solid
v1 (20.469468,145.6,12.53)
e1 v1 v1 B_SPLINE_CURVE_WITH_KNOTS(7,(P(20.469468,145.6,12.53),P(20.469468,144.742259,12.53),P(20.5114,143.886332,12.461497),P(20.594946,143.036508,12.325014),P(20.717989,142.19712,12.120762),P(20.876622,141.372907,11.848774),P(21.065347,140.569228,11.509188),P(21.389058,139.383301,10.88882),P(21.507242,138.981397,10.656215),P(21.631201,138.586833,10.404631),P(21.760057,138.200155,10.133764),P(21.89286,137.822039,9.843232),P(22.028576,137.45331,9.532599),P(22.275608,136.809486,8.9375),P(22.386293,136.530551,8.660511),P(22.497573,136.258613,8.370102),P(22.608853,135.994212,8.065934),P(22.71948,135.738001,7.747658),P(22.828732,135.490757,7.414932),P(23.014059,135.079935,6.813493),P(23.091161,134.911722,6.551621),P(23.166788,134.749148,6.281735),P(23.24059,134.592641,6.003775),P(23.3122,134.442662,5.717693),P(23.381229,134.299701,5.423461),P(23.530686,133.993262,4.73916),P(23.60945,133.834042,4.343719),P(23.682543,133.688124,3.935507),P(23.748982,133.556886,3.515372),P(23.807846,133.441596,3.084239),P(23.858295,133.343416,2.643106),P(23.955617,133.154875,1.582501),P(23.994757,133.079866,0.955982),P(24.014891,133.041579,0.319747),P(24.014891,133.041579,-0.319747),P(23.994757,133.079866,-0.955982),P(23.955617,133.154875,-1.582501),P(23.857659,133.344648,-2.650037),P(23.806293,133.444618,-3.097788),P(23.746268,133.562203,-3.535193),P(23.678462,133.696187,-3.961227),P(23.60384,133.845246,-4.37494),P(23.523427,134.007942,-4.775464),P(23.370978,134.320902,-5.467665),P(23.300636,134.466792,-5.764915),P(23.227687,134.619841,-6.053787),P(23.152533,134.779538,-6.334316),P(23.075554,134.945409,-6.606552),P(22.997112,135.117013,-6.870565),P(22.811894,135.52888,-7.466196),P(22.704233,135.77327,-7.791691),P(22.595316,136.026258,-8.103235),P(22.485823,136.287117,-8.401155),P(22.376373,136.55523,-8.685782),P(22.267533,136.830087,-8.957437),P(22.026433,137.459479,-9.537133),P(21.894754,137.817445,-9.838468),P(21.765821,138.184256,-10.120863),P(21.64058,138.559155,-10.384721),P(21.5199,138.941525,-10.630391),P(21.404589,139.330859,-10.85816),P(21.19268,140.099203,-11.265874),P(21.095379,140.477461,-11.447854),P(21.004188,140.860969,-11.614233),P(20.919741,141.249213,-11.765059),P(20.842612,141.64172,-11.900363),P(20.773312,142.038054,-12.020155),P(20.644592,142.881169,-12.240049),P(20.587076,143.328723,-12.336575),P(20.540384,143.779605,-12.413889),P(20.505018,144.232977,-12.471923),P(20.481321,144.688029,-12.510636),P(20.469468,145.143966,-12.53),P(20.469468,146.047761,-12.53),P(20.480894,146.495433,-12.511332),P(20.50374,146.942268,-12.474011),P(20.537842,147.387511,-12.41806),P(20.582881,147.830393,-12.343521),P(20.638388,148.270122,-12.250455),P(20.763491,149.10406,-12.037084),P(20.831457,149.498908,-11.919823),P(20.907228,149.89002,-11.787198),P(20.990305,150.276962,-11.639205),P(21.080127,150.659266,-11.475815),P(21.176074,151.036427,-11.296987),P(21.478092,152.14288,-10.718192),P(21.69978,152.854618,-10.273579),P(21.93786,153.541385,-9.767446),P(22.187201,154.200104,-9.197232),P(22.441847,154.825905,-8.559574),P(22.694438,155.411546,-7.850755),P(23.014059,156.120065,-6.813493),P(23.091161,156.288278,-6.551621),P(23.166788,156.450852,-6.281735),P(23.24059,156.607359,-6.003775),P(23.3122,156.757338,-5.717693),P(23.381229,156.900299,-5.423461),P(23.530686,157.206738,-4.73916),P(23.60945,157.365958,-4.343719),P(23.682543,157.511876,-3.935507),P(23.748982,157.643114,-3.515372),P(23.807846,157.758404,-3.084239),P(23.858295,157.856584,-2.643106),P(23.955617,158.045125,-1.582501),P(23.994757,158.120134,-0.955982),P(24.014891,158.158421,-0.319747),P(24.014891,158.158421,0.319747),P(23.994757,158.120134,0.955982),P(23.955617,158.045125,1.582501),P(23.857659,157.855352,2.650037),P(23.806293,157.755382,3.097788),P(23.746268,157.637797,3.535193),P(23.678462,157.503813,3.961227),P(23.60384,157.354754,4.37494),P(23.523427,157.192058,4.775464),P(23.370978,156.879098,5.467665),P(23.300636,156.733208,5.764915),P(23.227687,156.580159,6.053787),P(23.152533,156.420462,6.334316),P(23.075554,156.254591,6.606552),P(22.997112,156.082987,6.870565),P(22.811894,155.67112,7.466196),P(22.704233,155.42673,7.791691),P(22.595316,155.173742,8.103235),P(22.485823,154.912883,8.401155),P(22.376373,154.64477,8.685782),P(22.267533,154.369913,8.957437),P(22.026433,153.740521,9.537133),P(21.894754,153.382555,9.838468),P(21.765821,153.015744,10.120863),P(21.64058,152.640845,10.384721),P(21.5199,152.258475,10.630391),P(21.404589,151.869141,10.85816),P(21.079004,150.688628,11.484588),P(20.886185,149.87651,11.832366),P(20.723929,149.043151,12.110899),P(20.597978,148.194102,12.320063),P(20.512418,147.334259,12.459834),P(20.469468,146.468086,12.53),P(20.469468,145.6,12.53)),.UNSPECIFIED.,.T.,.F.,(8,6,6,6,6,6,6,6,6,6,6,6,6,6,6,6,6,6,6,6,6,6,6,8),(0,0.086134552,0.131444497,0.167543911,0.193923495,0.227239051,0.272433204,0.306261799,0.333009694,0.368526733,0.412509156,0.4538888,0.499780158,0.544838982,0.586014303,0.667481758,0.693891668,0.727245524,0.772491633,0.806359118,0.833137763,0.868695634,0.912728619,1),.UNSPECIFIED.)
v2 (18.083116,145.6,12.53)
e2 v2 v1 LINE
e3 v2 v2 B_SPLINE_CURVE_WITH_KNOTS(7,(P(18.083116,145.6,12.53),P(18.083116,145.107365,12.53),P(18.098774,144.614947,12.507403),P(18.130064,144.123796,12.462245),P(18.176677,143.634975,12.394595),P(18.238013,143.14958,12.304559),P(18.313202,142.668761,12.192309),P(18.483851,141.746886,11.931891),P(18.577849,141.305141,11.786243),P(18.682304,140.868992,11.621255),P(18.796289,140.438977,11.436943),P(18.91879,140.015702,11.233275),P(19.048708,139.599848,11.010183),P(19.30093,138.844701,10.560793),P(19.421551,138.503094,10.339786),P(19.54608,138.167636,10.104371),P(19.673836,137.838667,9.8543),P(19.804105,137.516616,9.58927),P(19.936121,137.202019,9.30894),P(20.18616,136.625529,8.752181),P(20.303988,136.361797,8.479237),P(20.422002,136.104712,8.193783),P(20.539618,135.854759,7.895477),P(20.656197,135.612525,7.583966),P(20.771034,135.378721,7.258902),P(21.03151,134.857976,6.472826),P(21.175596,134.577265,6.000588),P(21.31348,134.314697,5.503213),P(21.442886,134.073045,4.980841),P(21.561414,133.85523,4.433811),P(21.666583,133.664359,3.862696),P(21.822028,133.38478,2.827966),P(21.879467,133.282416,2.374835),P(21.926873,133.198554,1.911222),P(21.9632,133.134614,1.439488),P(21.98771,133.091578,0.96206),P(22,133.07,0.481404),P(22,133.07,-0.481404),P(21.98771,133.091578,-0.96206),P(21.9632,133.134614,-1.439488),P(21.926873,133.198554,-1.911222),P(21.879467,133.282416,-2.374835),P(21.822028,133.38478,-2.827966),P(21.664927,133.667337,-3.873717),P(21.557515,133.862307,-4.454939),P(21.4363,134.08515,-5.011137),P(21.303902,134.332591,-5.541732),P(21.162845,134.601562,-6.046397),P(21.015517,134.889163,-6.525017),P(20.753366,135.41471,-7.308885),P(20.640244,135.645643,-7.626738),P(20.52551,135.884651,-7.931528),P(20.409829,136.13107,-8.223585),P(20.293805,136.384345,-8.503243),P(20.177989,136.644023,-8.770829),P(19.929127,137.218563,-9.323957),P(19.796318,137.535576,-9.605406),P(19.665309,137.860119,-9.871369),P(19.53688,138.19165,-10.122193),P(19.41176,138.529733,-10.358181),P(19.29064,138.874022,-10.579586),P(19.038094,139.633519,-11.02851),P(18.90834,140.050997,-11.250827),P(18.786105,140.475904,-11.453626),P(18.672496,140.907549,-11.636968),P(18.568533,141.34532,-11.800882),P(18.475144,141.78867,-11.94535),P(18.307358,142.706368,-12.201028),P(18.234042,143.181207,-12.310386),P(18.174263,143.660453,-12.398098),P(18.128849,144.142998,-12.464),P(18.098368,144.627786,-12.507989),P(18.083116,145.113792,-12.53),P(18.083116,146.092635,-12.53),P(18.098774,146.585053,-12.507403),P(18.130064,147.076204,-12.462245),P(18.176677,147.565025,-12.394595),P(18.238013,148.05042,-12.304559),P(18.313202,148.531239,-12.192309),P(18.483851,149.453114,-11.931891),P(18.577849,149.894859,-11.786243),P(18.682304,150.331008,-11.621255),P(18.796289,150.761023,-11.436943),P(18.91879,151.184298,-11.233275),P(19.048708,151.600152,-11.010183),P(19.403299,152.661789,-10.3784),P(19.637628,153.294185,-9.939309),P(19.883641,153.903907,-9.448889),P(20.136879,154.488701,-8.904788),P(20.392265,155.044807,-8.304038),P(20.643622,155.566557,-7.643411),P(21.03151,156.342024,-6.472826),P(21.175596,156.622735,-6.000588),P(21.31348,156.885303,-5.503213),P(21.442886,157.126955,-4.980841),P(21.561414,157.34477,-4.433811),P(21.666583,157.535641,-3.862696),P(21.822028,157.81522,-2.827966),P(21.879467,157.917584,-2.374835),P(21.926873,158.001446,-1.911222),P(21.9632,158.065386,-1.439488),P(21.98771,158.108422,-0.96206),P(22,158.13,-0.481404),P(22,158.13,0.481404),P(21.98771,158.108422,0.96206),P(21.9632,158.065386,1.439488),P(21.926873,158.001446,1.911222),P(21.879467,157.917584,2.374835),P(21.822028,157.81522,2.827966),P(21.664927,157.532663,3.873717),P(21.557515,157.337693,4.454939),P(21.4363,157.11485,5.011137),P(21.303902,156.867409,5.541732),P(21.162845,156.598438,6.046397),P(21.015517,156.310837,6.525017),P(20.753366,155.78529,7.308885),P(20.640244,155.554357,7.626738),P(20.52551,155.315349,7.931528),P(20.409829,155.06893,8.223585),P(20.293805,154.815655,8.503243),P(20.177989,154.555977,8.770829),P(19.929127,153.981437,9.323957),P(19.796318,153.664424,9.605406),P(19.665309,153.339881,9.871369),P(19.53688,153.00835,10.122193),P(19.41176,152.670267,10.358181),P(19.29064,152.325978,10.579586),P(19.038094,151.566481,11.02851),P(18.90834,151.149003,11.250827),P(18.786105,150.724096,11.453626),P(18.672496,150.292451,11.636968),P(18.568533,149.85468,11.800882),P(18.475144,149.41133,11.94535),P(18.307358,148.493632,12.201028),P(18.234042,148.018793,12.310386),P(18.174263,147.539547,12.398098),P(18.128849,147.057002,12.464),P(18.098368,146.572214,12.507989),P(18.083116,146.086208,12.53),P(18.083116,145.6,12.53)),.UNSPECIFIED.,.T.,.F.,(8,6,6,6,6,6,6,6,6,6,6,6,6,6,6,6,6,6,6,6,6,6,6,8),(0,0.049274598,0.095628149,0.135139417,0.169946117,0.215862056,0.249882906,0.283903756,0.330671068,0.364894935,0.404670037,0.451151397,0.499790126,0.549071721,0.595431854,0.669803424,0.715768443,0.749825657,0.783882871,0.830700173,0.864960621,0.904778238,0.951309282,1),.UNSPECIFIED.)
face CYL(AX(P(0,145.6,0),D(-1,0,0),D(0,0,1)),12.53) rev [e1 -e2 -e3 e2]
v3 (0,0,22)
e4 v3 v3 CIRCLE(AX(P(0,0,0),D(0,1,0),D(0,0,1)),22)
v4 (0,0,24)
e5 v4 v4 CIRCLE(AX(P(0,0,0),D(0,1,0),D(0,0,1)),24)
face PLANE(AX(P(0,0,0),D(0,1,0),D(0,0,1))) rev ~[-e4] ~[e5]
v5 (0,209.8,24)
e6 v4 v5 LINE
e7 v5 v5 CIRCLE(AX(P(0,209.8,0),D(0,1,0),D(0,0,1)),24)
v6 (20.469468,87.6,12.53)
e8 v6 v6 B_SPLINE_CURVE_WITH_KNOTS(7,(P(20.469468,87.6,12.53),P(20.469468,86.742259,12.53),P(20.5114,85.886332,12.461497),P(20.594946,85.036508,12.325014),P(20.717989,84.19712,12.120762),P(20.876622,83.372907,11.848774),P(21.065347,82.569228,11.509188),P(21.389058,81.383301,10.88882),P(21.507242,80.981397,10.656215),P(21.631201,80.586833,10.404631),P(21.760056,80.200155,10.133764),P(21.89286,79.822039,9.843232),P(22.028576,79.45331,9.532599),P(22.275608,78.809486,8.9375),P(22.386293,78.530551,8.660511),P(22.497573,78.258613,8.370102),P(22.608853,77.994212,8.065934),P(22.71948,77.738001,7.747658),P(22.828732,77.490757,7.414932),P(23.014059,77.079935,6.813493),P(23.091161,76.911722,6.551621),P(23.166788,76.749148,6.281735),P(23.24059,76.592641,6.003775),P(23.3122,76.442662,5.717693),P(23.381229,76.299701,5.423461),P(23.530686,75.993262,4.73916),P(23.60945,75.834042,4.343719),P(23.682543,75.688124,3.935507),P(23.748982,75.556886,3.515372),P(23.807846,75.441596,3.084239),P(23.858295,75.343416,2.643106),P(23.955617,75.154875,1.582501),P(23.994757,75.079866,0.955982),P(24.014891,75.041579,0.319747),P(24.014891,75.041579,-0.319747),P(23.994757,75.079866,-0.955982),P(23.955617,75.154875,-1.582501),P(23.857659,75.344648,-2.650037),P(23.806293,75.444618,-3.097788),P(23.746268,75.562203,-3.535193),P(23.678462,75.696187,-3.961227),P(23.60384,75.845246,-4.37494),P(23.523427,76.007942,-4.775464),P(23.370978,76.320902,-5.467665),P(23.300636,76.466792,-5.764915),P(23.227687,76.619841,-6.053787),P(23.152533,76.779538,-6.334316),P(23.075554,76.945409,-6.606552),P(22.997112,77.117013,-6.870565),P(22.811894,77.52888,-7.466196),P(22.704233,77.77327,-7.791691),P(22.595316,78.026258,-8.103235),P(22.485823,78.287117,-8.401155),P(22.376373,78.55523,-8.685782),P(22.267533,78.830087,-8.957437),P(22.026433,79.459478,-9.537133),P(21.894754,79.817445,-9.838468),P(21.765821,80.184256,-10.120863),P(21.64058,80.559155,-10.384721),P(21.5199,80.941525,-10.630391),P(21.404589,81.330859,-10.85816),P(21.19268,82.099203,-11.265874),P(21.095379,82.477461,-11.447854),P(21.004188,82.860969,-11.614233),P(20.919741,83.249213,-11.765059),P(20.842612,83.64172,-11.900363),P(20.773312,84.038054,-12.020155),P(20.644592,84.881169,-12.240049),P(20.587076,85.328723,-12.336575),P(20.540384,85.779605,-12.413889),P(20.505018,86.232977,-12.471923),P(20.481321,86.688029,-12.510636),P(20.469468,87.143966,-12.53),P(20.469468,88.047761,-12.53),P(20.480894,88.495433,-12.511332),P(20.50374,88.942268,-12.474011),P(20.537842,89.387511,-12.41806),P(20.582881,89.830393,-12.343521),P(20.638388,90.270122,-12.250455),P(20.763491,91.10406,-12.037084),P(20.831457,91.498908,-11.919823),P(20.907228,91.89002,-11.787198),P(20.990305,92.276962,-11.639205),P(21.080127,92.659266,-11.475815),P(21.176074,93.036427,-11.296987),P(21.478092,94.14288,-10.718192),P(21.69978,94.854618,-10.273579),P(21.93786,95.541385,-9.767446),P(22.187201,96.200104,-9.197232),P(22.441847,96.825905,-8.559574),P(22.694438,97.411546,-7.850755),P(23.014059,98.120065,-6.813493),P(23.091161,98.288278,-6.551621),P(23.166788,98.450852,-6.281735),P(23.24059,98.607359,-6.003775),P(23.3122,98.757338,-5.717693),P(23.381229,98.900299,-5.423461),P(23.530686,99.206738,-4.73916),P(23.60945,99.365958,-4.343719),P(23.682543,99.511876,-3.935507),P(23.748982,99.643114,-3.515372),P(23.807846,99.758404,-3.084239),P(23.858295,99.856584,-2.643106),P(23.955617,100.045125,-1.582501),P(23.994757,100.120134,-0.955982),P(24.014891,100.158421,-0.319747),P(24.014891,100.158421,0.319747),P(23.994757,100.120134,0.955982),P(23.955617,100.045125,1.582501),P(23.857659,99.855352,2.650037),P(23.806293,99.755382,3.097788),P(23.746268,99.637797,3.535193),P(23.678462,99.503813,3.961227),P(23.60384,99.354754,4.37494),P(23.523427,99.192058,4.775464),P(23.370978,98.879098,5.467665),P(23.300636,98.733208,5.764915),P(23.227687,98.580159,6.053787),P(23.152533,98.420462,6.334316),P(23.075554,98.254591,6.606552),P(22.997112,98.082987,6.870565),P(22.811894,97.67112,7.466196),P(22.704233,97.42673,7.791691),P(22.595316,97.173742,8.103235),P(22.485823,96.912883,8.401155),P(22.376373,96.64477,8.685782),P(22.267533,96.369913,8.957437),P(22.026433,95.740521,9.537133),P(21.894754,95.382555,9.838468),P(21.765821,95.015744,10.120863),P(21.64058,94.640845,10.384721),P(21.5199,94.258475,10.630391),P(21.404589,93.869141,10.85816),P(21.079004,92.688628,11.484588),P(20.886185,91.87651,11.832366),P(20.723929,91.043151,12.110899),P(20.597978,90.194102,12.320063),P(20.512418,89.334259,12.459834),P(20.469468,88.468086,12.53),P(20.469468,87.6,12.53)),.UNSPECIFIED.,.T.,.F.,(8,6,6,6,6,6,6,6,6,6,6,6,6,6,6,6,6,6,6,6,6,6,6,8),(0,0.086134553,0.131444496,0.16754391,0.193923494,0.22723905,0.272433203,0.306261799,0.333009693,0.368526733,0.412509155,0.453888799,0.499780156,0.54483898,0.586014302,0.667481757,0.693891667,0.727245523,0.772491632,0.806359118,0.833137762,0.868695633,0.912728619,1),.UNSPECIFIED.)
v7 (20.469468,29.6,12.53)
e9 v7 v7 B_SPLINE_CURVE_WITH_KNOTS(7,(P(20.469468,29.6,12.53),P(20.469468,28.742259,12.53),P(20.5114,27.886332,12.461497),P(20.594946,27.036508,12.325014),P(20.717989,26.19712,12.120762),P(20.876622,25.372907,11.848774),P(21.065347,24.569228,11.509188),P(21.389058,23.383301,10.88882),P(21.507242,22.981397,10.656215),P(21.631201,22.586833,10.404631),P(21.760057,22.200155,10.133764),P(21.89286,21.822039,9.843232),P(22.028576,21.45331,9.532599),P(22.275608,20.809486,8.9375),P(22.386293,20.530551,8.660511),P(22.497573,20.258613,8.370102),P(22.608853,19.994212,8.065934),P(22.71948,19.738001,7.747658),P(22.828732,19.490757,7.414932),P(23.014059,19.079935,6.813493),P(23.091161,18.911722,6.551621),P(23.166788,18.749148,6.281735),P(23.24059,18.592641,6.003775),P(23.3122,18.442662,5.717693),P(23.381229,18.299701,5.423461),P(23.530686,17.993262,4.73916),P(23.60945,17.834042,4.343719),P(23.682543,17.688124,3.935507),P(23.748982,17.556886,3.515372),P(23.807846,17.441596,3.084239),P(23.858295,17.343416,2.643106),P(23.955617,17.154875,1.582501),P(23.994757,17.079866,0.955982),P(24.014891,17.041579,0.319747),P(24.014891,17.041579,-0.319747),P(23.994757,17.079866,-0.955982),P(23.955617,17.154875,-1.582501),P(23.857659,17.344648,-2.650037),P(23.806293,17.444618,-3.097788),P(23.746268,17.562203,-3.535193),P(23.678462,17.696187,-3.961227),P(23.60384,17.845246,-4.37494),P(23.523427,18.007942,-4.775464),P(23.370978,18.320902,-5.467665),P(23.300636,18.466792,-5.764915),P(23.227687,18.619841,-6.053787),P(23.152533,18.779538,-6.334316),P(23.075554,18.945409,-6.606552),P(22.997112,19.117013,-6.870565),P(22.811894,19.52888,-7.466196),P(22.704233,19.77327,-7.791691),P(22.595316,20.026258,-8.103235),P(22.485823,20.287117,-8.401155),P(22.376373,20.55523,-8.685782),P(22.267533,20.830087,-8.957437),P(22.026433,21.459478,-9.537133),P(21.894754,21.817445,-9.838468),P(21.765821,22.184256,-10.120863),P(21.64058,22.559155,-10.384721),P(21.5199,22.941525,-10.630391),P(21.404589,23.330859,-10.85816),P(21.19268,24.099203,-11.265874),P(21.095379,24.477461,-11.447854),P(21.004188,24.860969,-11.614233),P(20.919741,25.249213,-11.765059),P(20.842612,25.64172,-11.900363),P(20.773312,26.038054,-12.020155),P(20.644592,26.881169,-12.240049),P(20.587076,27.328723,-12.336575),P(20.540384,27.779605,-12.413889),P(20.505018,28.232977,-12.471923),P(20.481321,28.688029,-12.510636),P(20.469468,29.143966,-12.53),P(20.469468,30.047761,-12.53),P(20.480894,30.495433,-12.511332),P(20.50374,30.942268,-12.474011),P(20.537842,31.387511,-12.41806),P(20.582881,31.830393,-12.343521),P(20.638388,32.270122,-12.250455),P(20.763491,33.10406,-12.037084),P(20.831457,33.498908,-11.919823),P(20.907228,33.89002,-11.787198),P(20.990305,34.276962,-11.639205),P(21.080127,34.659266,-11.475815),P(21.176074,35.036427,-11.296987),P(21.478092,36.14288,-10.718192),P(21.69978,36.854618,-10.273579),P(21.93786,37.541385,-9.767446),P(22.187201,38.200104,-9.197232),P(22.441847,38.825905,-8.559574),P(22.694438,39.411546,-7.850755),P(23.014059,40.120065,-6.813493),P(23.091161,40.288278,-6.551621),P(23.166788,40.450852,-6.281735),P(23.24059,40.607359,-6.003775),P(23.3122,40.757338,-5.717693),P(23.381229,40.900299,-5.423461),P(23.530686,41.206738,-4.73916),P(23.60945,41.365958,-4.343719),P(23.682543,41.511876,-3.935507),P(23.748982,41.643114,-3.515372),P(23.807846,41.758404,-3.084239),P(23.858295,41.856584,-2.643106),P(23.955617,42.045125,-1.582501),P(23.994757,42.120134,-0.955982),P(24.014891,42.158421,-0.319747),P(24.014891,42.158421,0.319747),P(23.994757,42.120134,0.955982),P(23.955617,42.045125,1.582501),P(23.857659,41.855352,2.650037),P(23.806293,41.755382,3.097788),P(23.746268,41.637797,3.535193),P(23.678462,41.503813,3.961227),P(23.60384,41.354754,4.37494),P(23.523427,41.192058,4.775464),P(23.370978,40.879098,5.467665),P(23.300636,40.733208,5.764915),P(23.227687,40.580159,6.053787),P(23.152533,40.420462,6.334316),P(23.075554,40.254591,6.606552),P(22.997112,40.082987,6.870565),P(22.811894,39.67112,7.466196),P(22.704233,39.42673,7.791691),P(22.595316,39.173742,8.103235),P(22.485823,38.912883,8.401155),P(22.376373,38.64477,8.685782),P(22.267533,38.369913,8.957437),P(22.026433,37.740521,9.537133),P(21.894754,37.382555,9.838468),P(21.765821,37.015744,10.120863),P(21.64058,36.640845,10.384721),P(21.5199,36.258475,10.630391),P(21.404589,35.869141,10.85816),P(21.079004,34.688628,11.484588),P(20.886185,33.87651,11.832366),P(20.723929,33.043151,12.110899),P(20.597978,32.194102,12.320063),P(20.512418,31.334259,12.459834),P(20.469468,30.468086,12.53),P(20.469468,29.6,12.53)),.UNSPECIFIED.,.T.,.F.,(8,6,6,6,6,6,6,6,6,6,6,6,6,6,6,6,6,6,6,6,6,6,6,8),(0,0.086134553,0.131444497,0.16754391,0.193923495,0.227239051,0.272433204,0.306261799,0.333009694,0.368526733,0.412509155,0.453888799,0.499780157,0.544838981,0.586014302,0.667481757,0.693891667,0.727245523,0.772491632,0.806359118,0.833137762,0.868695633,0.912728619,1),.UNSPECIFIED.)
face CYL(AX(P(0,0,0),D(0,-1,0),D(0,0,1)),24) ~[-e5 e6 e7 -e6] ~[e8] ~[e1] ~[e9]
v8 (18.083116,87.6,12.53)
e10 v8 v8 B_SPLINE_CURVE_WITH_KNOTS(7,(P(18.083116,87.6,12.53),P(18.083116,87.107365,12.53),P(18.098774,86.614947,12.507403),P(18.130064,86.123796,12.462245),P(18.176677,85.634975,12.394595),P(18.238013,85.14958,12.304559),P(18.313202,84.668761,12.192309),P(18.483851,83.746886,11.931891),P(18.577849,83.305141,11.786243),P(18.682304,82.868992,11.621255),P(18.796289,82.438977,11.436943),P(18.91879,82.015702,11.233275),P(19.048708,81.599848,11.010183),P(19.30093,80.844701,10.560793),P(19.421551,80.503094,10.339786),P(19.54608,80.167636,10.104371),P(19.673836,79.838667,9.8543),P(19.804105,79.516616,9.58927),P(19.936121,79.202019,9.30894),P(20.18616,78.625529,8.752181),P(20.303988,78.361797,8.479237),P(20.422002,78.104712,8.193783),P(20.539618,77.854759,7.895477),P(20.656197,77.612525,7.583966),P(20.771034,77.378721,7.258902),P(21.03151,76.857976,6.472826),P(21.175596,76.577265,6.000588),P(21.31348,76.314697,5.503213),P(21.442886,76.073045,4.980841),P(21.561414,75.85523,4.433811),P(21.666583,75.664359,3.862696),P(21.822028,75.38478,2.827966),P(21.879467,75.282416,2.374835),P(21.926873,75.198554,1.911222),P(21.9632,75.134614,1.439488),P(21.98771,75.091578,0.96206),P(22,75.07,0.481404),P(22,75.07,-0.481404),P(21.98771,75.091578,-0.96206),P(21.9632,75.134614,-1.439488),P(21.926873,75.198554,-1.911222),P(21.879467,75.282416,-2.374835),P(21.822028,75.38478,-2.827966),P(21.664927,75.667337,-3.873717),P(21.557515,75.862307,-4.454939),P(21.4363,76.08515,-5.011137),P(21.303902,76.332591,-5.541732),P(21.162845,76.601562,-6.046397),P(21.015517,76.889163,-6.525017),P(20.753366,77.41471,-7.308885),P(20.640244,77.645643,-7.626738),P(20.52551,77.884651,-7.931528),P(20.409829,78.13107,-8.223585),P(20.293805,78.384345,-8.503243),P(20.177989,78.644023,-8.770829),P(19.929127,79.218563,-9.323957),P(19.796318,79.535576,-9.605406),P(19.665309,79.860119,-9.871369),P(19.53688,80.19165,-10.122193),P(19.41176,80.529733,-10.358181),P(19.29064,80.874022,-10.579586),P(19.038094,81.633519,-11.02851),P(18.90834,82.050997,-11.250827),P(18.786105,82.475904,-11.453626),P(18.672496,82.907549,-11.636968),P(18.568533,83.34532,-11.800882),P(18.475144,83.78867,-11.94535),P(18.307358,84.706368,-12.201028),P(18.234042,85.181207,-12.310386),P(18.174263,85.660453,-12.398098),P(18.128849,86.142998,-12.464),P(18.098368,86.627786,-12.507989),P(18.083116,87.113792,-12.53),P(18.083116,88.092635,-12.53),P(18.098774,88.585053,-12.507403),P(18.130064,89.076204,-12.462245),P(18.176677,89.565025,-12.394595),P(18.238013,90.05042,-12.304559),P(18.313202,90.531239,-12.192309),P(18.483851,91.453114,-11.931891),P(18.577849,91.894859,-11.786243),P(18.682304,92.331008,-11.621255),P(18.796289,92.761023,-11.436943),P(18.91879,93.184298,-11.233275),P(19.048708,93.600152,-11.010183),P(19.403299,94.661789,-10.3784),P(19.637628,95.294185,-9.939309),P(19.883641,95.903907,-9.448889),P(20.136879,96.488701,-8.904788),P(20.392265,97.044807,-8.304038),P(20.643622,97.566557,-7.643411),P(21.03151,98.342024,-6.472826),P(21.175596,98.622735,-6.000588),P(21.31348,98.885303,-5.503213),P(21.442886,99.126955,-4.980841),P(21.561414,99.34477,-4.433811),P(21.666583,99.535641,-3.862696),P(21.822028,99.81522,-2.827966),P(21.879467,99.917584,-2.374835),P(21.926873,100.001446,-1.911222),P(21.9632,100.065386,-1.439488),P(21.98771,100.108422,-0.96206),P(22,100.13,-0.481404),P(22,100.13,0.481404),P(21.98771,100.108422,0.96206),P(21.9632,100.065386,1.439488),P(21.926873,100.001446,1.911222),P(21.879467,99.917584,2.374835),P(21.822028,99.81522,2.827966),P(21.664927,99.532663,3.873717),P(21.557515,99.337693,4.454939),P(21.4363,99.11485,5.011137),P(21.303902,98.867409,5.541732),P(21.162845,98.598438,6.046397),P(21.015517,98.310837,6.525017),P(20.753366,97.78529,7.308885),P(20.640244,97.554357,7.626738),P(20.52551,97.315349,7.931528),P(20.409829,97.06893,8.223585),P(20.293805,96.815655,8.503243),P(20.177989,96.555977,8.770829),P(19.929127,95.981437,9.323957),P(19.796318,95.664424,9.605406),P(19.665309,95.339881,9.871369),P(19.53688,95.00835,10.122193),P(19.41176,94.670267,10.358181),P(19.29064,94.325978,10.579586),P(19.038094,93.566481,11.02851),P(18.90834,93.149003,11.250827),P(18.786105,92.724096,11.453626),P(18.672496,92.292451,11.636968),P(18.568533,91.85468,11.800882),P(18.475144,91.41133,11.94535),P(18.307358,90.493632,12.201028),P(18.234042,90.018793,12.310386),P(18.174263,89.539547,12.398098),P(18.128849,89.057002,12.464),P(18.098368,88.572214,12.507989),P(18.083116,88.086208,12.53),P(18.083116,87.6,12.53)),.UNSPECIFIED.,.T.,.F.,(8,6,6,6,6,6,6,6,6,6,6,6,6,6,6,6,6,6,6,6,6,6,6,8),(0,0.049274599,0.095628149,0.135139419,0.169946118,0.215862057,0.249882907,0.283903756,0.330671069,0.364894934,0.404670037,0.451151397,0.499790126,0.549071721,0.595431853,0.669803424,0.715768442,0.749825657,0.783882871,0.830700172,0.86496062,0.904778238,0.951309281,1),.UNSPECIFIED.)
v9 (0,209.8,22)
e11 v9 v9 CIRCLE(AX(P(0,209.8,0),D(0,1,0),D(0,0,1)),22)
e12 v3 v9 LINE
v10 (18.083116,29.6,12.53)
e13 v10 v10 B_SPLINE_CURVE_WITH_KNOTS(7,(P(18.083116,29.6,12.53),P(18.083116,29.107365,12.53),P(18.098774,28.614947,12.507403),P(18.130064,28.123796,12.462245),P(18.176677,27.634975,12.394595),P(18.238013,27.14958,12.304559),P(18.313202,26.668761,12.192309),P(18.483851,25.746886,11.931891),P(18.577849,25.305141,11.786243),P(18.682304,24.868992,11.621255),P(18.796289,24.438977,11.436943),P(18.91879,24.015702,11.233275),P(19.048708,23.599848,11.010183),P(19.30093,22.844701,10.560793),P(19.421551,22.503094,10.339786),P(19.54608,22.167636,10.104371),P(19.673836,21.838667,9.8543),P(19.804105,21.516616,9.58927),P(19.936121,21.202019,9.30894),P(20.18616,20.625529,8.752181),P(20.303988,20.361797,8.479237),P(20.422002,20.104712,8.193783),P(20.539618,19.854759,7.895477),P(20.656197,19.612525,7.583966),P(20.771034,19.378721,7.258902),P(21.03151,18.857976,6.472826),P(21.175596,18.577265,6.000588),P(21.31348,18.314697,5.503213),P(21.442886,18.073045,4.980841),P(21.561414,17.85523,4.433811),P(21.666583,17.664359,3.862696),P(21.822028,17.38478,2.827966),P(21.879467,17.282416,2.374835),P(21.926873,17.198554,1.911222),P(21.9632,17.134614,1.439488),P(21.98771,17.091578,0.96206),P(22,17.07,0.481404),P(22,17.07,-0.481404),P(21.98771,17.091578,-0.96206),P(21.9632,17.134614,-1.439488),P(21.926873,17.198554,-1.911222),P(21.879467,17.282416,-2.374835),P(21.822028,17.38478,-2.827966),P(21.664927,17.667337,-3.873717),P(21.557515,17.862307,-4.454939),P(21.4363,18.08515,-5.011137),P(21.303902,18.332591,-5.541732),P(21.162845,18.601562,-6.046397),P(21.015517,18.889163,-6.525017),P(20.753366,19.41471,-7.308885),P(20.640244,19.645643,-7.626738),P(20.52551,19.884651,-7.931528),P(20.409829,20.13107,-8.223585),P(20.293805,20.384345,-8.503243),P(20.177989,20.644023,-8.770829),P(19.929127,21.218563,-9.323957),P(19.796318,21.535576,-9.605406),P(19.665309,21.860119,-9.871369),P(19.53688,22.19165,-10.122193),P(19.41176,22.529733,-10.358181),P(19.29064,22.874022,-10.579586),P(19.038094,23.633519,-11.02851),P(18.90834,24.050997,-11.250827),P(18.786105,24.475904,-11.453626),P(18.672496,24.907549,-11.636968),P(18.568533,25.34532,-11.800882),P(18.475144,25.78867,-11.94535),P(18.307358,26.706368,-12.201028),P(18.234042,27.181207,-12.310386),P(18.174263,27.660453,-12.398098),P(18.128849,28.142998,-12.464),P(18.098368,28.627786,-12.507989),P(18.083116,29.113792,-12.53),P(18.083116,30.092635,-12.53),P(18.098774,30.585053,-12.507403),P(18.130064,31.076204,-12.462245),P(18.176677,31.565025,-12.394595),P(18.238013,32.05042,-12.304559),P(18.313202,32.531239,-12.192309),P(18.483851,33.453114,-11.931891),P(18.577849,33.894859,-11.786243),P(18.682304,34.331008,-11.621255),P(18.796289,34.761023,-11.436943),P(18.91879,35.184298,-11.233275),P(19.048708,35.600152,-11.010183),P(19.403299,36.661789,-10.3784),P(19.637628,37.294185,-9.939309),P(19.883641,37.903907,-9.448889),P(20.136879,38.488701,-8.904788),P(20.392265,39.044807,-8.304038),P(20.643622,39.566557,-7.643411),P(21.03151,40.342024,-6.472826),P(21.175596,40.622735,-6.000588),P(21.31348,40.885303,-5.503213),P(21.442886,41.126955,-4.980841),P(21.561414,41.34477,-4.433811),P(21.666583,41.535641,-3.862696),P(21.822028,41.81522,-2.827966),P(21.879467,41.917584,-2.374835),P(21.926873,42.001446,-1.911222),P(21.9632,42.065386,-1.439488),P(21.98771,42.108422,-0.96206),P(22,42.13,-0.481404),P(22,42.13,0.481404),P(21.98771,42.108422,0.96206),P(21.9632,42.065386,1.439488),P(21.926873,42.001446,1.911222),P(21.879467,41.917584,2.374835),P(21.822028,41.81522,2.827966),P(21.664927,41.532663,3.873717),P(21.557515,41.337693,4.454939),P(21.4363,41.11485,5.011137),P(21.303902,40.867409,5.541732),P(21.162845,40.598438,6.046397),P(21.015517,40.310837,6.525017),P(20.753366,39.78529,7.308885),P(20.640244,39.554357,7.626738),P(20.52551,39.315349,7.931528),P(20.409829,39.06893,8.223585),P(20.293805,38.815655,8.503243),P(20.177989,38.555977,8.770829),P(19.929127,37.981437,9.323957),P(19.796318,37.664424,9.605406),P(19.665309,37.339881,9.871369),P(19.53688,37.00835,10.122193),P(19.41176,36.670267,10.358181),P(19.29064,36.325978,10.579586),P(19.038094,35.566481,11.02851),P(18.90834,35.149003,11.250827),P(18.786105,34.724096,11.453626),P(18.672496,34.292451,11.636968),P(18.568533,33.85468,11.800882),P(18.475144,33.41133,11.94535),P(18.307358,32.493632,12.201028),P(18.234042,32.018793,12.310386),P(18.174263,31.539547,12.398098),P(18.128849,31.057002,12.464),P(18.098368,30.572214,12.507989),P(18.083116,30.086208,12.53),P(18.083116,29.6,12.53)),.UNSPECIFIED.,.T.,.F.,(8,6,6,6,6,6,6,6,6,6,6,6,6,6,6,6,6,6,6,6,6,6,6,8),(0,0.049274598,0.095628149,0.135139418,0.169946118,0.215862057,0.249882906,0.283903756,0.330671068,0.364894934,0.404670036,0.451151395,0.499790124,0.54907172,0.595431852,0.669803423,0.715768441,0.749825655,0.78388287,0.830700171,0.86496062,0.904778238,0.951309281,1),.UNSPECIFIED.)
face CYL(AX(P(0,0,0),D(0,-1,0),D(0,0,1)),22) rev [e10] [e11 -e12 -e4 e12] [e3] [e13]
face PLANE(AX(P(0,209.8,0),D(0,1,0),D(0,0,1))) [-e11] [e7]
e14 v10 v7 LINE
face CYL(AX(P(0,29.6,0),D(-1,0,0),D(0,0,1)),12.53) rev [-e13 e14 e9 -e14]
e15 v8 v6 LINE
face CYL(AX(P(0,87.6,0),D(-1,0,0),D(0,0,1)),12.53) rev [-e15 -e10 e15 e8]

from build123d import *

# Parameters (mm, degrees)
SKETCH1_R           = 24
SKETCH1_R_2         = 22
BOSS_EXTRUDE1_DEPTH = 209.8
SKETCH2_R           = 12.53
CUT_EXTRUDE1_DEPTH  = 213.527739366


with BuildPart() as part:
    # Sketch1 → Boss-Extrude1 (new body)
    with BuildSketch(Plane(origin=(0, 0, 0), x_dir=(1, 0, 0), z_dir=(0, 1, 0))):
        with Locations(Location((0, 0, 0), (0, 0, 270))):
            Circle(SKETCH1_R)
        with Locations(Location((0, 0, 0), (0, 0, 270))):
            Circle(SKETCH1_R_2, mode=Mode.SUBTRACT)
    extrude(amount=BOSS_EXTRUDE1_DEPTH)

    # Sketch2 → Cut-Extrude1 (cut, through all)
    with BuildSketch(Plane(origin=(0, 0, 0), x_dir=(0, 0, -1), z_dir=(1, 0, 0))):
        with Locations(Location((0, 145.6, 0), (0, 0, 180))):
            Circle(SKETCH2_R)
        with Locations(Location((0, 87.6, 0), (0, 0, 180))):
            Circle(SKETCH2_R)
        with Locations(Location((0, 29.6, 0), (0, 0, 180))):
            Circle(SKETCH2_R)
    extrude(amount=CUT_EXTRUDE1_DEPTH, mode=Mode.SUBTRACT)


solid = part.part
